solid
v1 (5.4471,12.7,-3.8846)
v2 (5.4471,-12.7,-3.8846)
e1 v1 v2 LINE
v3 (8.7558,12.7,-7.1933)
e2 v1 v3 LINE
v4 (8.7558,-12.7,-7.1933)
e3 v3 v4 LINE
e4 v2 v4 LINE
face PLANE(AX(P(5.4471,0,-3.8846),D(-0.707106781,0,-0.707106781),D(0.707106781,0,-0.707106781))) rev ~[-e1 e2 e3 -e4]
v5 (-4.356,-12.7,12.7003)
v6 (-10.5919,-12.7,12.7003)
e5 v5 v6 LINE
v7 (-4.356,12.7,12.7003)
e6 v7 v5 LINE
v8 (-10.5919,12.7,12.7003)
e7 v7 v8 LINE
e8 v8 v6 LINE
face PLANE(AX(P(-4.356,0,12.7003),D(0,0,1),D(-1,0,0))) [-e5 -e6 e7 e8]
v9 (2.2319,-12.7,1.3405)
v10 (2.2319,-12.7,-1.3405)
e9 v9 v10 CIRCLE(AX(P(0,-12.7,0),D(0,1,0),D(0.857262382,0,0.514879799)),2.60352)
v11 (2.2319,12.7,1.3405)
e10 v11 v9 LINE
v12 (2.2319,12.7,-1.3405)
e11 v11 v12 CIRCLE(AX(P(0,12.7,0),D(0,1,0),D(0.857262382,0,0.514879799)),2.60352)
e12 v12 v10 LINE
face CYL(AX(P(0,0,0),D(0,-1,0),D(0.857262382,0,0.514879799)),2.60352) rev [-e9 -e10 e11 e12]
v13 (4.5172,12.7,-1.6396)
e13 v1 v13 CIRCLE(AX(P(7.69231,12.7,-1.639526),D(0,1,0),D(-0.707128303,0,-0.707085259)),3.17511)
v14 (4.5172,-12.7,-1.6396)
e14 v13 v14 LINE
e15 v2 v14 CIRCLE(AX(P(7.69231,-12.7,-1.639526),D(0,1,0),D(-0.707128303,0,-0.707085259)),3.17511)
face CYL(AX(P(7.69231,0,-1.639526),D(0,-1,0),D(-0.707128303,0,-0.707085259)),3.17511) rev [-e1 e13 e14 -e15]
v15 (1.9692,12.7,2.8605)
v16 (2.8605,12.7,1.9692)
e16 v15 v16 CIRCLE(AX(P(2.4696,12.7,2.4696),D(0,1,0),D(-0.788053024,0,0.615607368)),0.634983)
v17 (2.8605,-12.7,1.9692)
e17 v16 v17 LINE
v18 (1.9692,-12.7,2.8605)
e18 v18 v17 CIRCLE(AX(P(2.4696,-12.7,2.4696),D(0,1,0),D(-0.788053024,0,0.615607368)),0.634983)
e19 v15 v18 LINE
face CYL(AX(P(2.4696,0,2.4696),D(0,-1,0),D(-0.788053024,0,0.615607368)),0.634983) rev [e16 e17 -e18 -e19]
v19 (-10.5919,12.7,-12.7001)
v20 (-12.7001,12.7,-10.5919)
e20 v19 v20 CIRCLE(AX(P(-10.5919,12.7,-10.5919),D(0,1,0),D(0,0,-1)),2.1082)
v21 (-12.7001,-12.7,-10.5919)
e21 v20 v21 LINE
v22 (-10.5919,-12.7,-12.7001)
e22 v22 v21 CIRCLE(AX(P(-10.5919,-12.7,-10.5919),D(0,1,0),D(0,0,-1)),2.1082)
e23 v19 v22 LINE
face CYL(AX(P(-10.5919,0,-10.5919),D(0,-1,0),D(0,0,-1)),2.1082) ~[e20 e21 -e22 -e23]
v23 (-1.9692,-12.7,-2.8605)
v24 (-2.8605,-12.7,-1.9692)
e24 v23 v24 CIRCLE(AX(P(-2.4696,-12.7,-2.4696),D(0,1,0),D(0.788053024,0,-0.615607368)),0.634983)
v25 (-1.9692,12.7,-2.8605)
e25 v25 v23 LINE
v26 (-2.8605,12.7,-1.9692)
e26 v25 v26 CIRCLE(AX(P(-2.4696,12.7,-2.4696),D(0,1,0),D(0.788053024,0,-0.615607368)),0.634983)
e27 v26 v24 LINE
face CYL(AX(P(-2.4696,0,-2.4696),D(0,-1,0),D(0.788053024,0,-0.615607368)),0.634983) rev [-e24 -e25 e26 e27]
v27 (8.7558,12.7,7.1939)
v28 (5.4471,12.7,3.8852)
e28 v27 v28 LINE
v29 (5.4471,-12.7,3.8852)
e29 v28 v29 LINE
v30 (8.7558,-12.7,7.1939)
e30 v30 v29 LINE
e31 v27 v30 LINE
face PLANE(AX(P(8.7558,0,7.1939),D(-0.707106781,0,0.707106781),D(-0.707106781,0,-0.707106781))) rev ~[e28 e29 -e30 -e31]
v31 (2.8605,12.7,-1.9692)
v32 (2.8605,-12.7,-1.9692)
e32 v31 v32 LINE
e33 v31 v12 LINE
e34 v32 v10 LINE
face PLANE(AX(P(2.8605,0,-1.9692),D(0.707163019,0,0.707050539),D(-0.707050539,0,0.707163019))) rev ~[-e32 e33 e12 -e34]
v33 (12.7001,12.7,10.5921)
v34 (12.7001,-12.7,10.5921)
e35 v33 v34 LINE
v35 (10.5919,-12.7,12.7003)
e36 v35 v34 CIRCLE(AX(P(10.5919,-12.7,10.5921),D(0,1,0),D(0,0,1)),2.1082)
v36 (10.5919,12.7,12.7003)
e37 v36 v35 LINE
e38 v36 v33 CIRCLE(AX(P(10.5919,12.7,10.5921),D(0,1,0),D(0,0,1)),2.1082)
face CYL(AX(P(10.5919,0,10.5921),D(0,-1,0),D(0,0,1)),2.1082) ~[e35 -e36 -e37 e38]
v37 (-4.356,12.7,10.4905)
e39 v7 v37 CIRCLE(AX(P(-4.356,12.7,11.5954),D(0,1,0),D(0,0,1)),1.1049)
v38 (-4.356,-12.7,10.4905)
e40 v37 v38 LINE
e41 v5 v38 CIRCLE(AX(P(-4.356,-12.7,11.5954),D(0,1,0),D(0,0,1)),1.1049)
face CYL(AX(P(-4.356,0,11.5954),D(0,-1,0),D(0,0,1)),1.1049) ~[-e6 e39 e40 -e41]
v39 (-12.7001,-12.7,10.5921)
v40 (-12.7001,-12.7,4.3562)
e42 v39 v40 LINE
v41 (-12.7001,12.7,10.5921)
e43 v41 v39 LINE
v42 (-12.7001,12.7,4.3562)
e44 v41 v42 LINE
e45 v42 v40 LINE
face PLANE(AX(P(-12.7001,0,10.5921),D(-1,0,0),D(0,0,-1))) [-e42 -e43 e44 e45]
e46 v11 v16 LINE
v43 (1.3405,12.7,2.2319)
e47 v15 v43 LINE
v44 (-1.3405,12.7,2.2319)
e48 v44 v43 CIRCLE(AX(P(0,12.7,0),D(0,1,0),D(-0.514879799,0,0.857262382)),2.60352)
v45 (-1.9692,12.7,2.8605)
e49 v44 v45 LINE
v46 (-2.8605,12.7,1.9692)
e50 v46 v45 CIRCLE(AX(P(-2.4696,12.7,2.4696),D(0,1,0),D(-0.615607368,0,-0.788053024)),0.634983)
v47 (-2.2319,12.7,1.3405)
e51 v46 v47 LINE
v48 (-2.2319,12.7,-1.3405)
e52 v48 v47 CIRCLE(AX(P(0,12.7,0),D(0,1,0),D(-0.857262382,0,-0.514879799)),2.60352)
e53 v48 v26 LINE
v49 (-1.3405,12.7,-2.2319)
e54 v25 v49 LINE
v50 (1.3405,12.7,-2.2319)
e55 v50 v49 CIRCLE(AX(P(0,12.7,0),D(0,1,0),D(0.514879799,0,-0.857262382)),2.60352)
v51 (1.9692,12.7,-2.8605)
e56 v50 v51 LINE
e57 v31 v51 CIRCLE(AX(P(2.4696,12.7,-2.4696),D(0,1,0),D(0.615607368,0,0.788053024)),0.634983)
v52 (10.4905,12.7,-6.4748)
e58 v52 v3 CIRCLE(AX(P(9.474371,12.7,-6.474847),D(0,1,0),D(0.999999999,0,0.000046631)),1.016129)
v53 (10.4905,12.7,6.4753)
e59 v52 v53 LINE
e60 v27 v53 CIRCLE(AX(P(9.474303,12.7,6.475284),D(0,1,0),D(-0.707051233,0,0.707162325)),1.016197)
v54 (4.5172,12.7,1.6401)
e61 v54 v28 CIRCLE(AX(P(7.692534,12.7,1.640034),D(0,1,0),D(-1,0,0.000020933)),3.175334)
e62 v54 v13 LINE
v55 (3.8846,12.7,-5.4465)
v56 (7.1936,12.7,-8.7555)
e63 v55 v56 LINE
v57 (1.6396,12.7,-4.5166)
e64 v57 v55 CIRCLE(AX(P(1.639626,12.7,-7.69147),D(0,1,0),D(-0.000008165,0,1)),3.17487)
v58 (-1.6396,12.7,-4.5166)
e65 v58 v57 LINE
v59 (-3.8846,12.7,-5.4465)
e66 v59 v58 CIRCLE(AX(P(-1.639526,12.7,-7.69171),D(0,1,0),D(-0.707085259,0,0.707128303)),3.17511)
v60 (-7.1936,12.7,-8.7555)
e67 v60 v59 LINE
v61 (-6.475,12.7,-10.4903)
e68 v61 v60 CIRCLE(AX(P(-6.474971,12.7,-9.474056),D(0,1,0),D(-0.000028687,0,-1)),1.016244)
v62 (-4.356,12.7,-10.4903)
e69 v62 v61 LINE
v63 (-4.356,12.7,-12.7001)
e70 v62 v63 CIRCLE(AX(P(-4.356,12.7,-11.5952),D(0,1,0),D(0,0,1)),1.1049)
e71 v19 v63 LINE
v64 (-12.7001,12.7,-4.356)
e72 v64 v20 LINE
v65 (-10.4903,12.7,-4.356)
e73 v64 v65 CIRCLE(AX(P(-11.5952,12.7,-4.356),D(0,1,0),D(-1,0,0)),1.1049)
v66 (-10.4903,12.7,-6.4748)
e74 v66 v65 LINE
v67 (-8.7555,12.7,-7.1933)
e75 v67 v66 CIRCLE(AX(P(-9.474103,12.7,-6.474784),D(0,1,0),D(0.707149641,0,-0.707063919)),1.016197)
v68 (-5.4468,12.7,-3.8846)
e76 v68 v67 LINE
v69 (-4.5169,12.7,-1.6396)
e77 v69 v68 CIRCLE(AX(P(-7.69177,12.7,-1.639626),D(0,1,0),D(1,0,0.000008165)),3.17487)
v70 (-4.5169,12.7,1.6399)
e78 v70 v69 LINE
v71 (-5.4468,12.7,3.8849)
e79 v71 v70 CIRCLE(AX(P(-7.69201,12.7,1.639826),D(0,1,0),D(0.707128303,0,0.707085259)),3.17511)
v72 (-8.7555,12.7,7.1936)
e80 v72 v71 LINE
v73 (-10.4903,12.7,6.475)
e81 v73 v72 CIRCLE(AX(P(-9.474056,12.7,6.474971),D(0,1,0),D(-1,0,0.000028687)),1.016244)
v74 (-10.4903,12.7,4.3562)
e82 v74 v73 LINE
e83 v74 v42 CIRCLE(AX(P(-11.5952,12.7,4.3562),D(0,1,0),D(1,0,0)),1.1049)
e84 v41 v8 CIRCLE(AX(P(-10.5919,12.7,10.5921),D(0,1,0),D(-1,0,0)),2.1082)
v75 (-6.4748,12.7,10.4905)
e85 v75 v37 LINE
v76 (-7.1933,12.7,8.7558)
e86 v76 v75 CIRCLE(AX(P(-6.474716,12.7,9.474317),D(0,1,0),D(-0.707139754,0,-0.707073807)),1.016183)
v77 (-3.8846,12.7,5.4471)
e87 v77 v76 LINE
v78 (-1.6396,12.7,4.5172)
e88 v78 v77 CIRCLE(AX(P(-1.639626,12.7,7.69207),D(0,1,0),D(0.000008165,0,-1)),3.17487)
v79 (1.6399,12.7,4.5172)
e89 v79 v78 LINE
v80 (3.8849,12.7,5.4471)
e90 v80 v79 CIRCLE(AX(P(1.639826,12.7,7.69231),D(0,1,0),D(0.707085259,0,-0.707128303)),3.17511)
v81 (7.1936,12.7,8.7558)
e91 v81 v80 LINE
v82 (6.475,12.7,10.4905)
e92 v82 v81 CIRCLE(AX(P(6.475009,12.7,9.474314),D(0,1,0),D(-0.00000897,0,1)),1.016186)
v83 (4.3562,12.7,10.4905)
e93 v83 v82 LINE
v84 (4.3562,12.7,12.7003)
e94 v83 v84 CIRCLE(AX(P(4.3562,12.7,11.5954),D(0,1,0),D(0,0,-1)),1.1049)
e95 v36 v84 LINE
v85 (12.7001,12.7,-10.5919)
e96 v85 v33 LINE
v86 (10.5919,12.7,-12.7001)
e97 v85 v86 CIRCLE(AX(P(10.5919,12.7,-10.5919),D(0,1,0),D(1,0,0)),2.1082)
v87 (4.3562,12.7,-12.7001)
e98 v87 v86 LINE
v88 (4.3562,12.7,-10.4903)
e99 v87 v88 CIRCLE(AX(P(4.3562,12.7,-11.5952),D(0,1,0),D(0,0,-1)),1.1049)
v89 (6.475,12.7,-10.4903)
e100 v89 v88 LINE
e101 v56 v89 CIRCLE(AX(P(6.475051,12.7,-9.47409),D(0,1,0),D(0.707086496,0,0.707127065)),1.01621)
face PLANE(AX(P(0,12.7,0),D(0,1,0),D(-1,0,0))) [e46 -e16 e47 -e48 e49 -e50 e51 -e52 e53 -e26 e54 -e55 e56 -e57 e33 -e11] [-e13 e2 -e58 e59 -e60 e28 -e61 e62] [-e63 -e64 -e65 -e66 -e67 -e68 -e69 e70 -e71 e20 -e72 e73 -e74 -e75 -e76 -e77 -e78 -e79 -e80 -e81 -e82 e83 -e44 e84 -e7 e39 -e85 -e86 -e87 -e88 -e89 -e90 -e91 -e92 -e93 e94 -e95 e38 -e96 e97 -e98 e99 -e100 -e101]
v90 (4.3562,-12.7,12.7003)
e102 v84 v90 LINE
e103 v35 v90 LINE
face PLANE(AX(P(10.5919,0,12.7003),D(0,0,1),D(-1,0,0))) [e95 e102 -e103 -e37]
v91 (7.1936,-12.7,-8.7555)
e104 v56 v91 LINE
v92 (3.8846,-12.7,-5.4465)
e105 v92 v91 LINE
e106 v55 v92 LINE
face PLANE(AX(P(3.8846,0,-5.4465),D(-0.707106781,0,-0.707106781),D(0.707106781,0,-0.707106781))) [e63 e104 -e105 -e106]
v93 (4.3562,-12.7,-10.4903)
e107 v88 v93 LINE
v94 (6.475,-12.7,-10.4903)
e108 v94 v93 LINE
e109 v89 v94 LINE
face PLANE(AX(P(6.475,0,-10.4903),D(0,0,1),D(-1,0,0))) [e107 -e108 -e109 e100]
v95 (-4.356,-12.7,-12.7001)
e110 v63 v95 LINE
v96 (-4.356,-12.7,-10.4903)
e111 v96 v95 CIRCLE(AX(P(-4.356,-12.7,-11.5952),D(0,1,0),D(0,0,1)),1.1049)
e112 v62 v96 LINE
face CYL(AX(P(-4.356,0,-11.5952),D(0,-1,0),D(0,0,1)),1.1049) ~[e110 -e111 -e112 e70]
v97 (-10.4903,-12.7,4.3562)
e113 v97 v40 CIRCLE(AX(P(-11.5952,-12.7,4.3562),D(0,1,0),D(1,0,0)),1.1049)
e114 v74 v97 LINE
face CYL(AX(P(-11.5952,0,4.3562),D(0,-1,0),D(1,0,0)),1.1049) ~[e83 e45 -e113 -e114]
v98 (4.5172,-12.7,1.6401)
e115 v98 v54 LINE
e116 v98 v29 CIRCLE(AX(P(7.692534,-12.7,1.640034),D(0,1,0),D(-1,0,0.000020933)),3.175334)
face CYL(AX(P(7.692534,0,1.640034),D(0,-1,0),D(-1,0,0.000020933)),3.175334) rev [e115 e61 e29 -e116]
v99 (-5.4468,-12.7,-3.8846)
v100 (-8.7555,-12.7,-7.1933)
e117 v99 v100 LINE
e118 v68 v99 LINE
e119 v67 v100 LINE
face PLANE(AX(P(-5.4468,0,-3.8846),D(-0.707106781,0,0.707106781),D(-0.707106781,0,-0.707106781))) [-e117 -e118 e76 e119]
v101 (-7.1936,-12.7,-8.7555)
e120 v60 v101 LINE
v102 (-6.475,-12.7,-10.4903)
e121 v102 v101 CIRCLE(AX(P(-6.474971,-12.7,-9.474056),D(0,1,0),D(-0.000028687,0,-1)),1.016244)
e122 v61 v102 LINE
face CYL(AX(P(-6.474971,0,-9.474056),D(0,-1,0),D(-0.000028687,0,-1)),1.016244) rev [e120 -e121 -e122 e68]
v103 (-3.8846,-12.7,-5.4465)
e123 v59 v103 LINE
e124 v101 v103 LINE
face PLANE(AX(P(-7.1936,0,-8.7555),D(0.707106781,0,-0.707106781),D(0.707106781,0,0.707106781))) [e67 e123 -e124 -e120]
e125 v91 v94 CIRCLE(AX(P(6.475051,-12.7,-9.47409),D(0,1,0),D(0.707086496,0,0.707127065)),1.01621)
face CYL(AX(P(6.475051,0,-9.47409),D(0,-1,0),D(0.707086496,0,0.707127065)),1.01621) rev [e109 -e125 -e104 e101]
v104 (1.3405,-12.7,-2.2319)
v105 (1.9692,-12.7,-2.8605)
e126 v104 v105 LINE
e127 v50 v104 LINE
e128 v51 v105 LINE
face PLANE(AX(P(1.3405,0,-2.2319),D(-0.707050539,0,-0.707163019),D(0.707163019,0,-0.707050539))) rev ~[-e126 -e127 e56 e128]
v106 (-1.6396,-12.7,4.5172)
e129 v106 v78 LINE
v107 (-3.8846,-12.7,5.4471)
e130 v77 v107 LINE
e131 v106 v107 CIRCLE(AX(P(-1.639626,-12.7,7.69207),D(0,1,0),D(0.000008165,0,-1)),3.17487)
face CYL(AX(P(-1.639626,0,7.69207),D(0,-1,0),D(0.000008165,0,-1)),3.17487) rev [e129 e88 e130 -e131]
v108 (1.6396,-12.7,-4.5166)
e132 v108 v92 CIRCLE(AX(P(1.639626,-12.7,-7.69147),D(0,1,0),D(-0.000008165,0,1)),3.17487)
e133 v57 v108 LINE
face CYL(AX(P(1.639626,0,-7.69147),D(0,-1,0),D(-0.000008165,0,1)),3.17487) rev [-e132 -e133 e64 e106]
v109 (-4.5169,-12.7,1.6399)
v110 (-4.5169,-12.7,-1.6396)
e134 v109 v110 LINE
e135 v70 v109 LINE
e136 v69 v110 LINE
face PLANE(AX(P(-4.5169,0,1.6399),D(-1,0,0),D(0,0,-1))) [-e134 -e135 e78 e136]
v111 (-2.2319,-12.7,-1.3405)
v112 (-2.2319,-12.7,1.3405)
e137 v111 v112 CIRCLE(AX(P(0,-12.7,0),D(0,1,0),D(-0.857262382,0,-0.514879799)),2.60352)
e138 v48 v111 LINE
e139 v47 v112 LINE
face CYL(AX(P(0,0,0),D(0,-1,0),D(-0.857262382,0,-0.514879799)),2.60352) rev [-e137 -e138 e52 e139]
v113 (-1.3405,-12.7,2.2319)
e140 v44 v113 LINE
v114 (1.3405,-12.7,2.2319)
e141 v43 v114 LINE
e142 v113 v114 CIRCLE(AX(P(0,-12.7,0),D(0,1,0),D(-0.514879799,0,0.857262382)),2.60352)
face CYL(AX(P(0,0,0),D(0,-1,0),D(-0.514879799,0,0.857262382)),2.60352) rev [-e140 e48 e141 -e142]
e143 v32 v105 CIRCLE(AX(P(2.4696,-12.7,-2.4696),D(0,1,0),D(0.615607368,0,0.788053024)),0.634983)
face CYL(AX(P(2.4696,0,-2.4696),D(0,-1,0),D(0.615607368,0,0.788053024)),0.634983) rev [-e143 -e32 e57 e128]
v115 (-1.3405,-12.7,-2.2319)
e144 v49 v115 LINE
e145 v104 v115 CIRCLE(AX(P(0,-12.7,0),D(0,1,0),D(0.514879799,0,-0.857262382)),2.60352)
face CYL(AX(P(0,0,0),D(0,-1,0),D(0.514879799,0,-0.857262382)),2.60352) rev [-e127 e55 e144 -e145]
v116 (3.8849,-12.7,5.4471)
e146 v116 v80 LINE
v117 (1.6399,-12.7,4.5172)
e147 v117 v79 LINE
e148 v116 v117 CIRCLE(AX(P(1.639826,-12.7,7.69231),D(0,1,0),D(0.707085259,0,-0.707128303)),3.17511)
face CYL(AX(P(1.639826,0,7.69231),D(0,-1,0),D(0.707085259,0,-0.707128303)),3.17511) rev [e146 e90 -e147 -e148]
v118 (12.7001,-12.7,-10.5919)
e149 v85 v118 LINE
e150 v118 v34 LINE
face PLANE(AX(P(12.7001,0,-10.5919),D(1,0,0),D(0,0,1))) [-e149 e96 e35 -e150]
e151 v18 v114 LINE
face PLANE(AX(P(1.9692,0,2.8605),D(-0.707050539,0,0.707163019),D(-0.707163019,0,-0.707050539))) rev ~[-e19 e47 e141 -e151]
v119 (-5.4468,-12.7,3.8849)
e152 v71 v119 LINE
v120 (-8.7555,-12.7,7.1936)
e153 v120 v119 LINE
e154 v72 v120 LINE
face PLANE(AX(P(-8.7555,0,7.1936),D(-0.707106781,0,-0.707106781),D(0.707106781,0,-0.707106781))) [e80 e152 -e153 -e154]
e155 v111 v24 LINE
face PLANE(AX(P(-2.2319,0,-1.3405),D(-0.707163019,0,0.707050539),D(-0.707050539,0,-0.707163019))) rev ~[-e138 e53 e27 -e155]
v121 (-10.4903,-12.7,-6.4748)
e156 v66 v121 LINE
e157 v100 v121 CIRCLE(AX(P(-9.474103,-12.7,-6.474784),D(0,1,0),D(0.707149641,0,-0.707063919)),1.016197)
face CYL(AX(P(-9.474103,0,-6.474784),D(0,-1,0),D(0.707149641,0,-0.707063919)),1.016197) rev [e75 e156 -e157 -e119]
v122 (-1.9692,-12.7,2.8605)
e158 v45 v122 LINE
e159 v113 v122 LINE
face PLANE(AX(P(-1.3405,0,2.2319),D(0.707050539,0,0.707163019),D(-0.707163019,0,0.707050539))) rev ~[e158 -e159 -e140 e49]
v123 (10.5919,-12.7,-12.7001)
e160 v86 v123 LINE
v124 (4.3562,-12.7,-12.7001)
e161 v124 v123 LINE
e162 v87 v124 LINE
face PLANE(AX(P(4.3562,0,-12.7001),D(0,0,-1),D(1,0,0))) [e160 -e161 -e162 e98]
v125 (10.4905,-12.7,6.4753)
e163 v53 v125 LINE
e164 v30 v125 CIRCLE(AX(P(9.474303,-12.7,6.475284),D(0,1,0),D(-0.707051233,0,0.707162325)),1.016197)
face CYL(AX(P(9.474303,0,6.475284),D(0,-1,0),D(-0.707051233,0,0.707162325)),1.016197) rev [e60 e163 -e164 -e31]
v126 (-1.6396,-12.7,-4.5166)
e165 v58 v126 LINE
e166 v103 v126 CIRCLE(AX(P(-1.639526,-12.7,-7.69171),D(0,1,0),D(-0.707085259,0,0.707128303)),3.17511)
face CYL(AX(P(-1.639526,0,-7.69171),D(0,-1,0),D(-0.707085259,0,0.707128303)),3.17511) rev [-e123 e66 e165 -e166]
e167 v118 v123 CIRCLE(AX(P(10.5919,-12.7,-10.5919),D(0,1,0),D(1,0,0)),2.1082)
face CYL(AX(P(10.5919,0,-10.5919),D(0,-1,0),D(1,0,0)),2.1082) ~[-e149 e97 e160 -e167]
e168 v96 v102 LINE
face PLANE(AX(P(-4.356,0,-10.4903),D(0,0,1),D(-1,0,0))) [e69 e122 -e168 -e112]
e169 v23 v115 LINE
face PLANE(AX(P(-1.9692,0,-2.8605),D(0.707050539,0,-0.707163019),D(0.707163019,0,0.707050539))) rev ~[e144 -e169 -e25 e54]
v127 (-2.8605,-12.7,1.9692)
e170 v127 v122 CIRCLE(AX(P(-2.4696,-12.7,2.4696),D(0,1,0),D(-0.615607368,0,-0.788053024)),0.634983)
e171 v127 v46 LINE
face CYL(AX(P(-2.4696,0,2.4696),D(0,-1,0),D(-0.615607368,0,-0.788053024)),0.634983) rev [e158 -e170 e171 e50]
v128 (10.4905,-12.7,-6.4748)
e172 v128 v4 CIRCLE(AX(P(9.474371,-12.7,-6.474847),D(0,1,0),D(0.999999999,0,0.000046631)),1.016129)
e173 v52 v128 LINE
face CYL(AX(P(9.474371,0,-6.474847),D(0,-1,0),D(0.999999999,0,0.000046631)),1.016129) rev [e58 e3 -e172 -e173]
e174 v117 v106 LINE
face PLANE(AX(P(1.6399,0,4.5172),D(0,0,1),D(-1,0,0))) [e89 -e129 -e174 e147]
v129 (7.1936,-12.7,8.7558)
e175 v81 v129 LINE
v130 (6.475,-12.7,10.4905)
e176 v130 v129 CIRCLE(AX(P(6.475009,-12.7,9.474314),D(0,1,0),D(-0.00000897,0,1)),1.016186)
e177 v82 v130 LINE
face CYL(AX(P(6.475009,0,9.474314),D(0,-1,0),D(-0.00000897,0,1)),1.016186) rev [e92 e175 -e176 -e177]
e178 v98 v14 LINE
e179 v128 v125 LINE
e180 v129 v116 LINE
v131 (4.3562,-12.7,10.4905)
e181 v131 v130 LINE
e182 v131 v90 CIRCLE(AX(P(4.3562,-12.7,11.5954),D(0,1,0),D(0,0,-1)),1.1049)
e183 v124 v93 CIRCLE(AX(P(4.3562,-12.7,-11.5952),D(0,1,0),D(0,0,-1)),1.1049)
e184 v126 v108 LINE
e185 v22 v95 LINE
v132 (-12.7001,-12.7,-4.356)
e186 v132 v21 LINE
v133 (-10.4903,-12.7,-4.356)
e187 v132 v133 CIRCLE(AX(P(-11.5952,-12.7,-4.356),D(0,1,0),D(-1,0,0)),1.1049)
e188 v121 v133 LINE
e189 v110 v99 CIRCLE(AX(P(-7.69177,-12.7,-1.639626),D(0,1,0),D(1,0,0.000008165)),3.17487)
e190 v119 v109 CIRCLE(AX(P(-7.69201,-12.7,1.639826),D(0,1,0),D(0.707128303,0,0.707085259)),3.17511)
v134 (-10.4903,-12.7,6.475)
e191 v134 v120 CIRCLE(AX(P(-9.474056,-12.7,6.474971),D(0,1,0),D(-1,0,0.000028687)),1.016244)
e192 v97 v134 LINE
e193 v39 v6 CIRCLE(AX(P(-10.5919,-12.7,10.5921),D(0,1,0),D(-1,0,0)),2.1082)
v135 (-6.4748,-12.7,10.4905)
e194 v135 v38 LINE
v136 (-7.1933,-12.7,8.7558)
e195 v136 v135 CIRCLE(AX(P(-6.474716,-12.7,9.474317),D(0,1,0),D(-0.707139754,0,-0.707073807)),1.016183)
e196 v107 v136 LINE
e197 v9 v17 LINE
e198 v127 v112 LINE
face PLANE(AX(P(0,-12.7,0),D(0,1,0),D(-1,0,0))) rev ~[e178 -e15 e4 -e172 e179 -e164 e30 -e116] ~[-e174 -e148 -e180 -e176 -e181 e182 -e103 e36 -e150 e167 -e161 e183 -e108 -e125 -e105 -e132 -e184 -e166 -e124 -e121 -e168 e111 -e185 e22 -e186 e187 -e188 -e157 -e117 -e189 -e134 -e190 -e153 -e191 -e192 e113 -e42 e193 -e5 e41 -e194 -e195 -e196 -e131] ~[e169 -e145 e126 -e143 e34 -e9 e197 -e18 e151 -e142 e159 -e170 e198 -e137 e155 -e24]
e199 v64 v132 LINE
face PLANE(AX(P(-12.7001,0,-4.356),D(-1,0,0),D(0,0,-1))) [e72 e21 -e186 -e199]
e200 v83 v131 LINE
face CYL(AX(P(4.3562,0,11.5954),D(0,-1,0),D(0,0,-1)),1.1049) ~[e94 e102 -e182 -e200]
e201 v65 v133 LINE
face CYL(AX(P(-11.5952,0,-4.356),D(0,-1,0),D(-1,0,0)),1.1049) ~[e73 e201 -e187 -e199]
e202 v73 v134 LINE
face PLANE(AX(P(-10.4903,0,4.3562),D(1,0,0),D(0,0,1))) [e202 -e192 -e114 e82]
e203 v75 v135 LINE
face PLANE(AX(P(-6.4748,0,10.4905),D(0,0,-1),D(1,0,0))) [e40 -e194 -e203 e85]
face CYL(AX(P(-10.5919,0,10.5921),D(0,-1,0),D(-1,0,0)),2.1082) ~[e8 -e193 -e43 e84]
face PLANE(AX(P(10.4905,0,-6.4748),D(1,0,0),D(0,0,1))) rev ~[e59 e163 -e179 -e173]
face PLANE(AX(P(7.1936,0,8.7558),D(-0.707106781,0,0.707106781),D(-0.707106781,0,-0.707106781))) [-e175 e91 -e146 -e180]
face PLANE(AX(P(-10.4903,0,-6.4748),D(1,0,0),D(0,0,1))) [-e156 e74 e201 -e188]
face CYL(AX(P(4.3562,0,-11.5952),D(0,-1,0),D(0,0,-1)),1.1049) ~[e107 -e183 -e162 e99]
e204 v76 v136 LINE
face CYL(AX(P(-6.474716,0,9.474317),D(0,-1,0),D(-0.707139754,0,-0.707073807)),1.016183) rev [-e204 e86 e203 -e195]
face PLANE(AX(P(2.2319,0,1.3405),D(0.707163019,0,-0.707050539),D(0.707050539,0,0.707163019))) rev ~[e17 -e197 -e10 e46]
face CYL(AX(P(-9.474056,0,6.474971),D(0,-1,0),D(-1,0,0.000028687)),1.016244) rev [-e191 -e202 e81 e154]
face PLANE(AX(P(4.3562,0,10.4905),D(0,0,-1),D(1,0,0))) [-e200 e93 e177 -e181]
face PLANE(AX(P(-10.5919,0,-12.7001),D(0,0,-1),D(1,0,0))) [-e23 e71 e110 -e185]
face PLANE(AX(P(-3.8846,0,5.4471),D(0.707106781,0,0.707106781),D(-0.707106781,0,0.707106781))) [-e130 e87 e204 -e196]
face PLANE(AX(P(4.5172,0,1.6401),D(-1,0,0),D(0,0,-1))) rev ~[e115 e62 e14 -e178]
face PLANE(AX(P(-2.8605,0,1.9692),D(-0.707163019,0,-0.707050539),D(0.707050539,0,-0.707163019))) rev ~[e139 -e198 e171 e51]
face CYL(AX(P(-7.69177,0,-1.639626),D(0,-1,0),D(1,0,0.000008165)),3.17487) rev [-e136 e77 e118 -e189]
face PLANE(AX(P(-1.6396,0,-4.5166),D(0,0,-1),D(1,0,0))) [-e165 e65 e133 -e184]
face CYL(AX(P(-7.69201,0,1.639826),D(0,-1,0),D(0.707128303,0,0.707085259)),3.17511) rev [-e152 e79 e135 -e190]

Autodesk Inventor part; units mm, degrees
ref_plane "YZ Plane" through (0, 0, 0) normal (1, 0, 0) x (0, 1, 0)
ref_plane "XZ Plane" through (0, 0, 0) normal (0, 1, 0) x (-1, 0, 0)
ref_plane "XY Plane" through (0, 0, 0) normal (0, 0, 1) x (1, 0, 0)
sketch "Sketch1" plane through (0, 0, 0) normal (0, 1, 0) x (-1, 0, 0)
  arc A0 (2.8605, 1.9692) -> (1.9692, 2.8605) centre (2.4696, 2.4696) ccw
  line L0 (1.3405, 2.2319) -> (1.9692, 2.8605)
  arc A1 (1.3405, 2.2319) -> (-1.3405, 2.2319) centre (0, 0) ccw
  line L1 (-1.9692, 2.8605) -> (-1.3405, 2.2319)
  arc A2 (-1.9692, 2.8605) -> (-2.8605, 1.9692) centre (-2.4696, 2.4696) ccw
  line L2 (-2.2319, 1.3405) -> (-2.8605, 1.9692)
  arc A3 (-2.2319, 1.3405) -> (-2.2319, -1.3405) centre (0, 0) ccw
  line L3 (-2.8605, -1.9692) -> (-2.2319, -1.3405)
  arc A4 (-2.8605, -1.9692) -> (-1.9692, -2.8605) centre (-2.4696, -2.4696) ccw
  line L4 (-1.3405, -2.2319) -> (-1.9692, -2.8605)
  arc A5 (-1.3405, -2.2319) -> (1.3405, -2.2319) centre (0, 0) ccw
  line L5 (1.9692, -2.8605) -> (1.3405, -2.2319)
  arc A6 (1.9692, -2.8605) -> (2.8605, -1.9692) centre (2.4696, -2.4696) ccw
  line L6 (2.2319, -1.3405) -> (2.8605, -1.9692)
  arc A7 (2.2319, -1.3405) -> (2.2319, 1.3405) centre (0, 0) ccw
  line L7 (2.8605, 1.9692) -> (2.2319, 1.3405)
  arc A8 (-4.5172, 1.6401) -> (-5.4471, 3.8852) centre (-7.6922, 1.6401) ccw
  line L8 (-8.7558, 7.1939) -> (-5.4471, 3.8852)
  arc A9 (-8.7558, 7.1939) -> (-10.4905, 6.4753) centre (-9.4743, 6.4753) ccw
  line L9 (-10.4905, -6.4748) -> (-10.4905, 6.4753)
  arc A10 (-10.4905, -6.4748) -> (-8.7558, -7.1933) centre (-9.4743, -6.4748) ccw
  line L10 (-5.4471, -3.8846) -> (-8.7558, -7.1933)
  arc A11 (-5.4471, -3.8846) -> (-4.5172, -1.6396) centre (-7.6922, -1.6396) ccw
  line L11 (-4.5172, 1.6401) -> (-4.5172, -1.6396)
  arc A12 (1.6396, 4.5172) -> (3.8846, 5.4471) centre (1.6396, 7.6922) ccw
  line L12 (3.8846, 5.4471) -> (7.1933, 8.7558)
  arc A13 (7.1933, 8.7558) -> (6.4748, 10.4905) centre (6.4748, 9.4743) ccw
  line L13 (6.4748, 10.4905) -> (4.356, 10.4905)
  arc A14 (4.356, 12.7003) -> (4.356, 10.4905) centre (4.356, 11.5954) ccw
  line L14 (4.356, 12.7003) -> (10.5919, 12.7003)
  arc A15 (12.7001, 10.5921) -> (10.5919, 12.7003) centre (10.5919, 10.5921) ccw
  line L15 (12.7001, 10.5921) -> (12.7001, 4.3562)
  arc A16 (10.4903, 4.3562) -> (12.7001, 4.3562) centre (11.5952, 4.3562) ccw
  line L16 (10.4903, 4.3562) -> (10.4903, 6.475)
  arc A17 (10.4903, 6.475) -> (8.7555, 7.1936) centre (9.4741, 6.475) ccw
  line L17 (8.7555, 7.1936) -> (5.4468, 3.8849)
  arc A18 (5.4468, 3.8849) -> (4.5169, 1.6399) centre (7.6919, 1.6399) ccw
  line L18 (4.5169, 1.6399) -> (4.5169, -1.6396)
  arc A19 (4.5169, -1.6396) -> (5.4468, -3.8846) centre (7.6919, -1.6396) ccw
  line L19 (5.4468, -3.8846) -> (8.7555, -7.1933)
  arc A20 (8.7555, -7.1933) -> (10.4903, -6.4748) centre (9.4741, -6.4748) ccw
  line L20 (10.4903, -6.4748) -> (10.4903, -4.356)
  arc A21 (12.7001, -4.356) -> (10.4903, -4.356) centre (11.5952, -4.356) ccw
  line L21 (12.7001, -4.356) -> (12.7001, -10.5919)
  arc A22 (10.5919, -12.7001) -> (12.7001, -10.5919) centre (10.5919, -10.5919) ccw
  line L22 (10.5919, -12.7001) -> (4.356, -12.7001)
  arc A23 (4.356, -10.4903) -> (4.356, -12.7001) centre (4.356, -11.5952) ccw
  line L23 (4.356, -10.4903) -> (6.475, -10.4903)
  arc A24 (6.475, -10.4903) -> (7.1936, -8.7555) centre (6.475, -9.4741) ccw
  line L24 (7.1936, -8.7555) -> (3.8846, -5.4465)
  arc A25 (3.8846, -5.4465) -> (1.6396, -4.5166) centre (1.6396, -7.6916) ccw
  line L25 (1.6396, -4.5166) -> (-1.6396, -4.5166)
  arc A26 (-1.6396, -4.5166) -> (-3.8846, -5.4465) centre (-1.6396, -7.6916) ccw
  line L26 (-3.8846, -5.4465) -> (-7.1936, -8.7555)
  arc A27 (-7.1936, -8.7555) -> (-6.475, -10.4903) centre (-6.475, -9.4741) ccw
  line L27 (-6.475, -10.4903) -> (-4.3562, -10.4903)
  arc A28 (-4.3562, -12.7001) -> (-4.3562, -10.4903) centre (-4.3562, -11.5952) ccw
  line L28 (-4.3562, -12.7001) -> (-10.5919, -12.7001)
  arc A29 (-12.7001, -10.5919) -> (-10.5919, -12.7001) centre (-10.5919, -10.5919) ccw
  line L29 (-12.7001, -10.5919) -> (-12.7001, 10.5921)
  arc A30 (-10.5919, 12.7003) -> (-12.7001, 10.5921) centre (-10.5919, 10.5921) ccw
  line L30 (-10.5919, 12.7003) -> (-4.3562, 12.7003)
  arc A31 (-4.3562, 10.4905) -> (-4.3562, 12.7003) centre (-4.3562, 11.5954) ccw
  line L31 (-4.3562, 10.4905) -> (-6.475, 10.4905)
  arc A32 (-6.475, 10.4905) -> (-7.1936, 8.7558) centre (-6.475, 9.4743) ccw
  line L32 (-7.1936, 8.7558) -> (-3.8849, 5.4471)
  arc A33 (-3.8849, 5.4471) -> (-1.6399, 4.5172) centre (-1.6399, 7.6922) ccw
  line L33 (-1.6399, 4.5172) -> (1.6396, 4.5172)
  point P0 (0, 0)
  dimension "d36" = 8.1835
  dimension "d81" = 1.0162
  dimension "d82" = 3.175
  dimension "d95" = 8.1832
  dimension "d96" = 17.2172
  dimension "d97" = 23.1906
  dimension "d98" = 25.4002
  dimension "d100" = 8.1832
  dimension "d101" = 2.2092
  dimension "d104" = 2.2091
  dimension "d131" = 1.1049
  dimension "d132" = 2.1082
  dimension "d133" = 0.635
  dimension "d134" = 2.6035
  dimension "d135" = 2.6035
  dimension "d136" = 2.6035
  dimension "d137" = 2.6035
  dimension "d138" = 45
  dimension "d139" = 45
  dimension "d140" = 45
  dimension "d141" = 45
  dimension "d142" = 45
  dimension "d143" = 25.4004
  dimension "d144" = 0.4742
  dimension "d145" = 1.7347
  dimension "d146" = 0.4744
  dimension "d147" = 1.7349
  dimension "d148" = 12.7001
  dimension "d149" = 12.7003
  dimension "d150" = 1.1046
  dimension "d151" = 1.1048
  dimension "d152" = 0.6303
  dimension "d153" = 0.6303
  dimension "d154" = 0.6303
  dimension "d155" = 0.6303
  dimension "d156" = 8.3441
  dimension "d157" = 17.0563
  dimension "d158" = 8.3441
  dimension "d159" = 8.3441
  dimension "d160" = 9.8396
  dimension "d161" = 9.8396
  dimension "d162" = 10.2305
  dimension "d163" = 10.2305
  dimension "d164" = 10.4682
  dimension "d165" = 10.4682
  dimension "d166" = 14.6692
  dimension "d167" = 14.6692
  dimension "d168" = 15.1696
  dimension "d169" = 15.1696
  dimension "d170" = 17.0563
  dimension "d171" = 17.0563
extrude "Extrusion1" add sketch "Sketch1" along normal mid plane 25.4
properties part number "1003-S" material "6105-T5"
